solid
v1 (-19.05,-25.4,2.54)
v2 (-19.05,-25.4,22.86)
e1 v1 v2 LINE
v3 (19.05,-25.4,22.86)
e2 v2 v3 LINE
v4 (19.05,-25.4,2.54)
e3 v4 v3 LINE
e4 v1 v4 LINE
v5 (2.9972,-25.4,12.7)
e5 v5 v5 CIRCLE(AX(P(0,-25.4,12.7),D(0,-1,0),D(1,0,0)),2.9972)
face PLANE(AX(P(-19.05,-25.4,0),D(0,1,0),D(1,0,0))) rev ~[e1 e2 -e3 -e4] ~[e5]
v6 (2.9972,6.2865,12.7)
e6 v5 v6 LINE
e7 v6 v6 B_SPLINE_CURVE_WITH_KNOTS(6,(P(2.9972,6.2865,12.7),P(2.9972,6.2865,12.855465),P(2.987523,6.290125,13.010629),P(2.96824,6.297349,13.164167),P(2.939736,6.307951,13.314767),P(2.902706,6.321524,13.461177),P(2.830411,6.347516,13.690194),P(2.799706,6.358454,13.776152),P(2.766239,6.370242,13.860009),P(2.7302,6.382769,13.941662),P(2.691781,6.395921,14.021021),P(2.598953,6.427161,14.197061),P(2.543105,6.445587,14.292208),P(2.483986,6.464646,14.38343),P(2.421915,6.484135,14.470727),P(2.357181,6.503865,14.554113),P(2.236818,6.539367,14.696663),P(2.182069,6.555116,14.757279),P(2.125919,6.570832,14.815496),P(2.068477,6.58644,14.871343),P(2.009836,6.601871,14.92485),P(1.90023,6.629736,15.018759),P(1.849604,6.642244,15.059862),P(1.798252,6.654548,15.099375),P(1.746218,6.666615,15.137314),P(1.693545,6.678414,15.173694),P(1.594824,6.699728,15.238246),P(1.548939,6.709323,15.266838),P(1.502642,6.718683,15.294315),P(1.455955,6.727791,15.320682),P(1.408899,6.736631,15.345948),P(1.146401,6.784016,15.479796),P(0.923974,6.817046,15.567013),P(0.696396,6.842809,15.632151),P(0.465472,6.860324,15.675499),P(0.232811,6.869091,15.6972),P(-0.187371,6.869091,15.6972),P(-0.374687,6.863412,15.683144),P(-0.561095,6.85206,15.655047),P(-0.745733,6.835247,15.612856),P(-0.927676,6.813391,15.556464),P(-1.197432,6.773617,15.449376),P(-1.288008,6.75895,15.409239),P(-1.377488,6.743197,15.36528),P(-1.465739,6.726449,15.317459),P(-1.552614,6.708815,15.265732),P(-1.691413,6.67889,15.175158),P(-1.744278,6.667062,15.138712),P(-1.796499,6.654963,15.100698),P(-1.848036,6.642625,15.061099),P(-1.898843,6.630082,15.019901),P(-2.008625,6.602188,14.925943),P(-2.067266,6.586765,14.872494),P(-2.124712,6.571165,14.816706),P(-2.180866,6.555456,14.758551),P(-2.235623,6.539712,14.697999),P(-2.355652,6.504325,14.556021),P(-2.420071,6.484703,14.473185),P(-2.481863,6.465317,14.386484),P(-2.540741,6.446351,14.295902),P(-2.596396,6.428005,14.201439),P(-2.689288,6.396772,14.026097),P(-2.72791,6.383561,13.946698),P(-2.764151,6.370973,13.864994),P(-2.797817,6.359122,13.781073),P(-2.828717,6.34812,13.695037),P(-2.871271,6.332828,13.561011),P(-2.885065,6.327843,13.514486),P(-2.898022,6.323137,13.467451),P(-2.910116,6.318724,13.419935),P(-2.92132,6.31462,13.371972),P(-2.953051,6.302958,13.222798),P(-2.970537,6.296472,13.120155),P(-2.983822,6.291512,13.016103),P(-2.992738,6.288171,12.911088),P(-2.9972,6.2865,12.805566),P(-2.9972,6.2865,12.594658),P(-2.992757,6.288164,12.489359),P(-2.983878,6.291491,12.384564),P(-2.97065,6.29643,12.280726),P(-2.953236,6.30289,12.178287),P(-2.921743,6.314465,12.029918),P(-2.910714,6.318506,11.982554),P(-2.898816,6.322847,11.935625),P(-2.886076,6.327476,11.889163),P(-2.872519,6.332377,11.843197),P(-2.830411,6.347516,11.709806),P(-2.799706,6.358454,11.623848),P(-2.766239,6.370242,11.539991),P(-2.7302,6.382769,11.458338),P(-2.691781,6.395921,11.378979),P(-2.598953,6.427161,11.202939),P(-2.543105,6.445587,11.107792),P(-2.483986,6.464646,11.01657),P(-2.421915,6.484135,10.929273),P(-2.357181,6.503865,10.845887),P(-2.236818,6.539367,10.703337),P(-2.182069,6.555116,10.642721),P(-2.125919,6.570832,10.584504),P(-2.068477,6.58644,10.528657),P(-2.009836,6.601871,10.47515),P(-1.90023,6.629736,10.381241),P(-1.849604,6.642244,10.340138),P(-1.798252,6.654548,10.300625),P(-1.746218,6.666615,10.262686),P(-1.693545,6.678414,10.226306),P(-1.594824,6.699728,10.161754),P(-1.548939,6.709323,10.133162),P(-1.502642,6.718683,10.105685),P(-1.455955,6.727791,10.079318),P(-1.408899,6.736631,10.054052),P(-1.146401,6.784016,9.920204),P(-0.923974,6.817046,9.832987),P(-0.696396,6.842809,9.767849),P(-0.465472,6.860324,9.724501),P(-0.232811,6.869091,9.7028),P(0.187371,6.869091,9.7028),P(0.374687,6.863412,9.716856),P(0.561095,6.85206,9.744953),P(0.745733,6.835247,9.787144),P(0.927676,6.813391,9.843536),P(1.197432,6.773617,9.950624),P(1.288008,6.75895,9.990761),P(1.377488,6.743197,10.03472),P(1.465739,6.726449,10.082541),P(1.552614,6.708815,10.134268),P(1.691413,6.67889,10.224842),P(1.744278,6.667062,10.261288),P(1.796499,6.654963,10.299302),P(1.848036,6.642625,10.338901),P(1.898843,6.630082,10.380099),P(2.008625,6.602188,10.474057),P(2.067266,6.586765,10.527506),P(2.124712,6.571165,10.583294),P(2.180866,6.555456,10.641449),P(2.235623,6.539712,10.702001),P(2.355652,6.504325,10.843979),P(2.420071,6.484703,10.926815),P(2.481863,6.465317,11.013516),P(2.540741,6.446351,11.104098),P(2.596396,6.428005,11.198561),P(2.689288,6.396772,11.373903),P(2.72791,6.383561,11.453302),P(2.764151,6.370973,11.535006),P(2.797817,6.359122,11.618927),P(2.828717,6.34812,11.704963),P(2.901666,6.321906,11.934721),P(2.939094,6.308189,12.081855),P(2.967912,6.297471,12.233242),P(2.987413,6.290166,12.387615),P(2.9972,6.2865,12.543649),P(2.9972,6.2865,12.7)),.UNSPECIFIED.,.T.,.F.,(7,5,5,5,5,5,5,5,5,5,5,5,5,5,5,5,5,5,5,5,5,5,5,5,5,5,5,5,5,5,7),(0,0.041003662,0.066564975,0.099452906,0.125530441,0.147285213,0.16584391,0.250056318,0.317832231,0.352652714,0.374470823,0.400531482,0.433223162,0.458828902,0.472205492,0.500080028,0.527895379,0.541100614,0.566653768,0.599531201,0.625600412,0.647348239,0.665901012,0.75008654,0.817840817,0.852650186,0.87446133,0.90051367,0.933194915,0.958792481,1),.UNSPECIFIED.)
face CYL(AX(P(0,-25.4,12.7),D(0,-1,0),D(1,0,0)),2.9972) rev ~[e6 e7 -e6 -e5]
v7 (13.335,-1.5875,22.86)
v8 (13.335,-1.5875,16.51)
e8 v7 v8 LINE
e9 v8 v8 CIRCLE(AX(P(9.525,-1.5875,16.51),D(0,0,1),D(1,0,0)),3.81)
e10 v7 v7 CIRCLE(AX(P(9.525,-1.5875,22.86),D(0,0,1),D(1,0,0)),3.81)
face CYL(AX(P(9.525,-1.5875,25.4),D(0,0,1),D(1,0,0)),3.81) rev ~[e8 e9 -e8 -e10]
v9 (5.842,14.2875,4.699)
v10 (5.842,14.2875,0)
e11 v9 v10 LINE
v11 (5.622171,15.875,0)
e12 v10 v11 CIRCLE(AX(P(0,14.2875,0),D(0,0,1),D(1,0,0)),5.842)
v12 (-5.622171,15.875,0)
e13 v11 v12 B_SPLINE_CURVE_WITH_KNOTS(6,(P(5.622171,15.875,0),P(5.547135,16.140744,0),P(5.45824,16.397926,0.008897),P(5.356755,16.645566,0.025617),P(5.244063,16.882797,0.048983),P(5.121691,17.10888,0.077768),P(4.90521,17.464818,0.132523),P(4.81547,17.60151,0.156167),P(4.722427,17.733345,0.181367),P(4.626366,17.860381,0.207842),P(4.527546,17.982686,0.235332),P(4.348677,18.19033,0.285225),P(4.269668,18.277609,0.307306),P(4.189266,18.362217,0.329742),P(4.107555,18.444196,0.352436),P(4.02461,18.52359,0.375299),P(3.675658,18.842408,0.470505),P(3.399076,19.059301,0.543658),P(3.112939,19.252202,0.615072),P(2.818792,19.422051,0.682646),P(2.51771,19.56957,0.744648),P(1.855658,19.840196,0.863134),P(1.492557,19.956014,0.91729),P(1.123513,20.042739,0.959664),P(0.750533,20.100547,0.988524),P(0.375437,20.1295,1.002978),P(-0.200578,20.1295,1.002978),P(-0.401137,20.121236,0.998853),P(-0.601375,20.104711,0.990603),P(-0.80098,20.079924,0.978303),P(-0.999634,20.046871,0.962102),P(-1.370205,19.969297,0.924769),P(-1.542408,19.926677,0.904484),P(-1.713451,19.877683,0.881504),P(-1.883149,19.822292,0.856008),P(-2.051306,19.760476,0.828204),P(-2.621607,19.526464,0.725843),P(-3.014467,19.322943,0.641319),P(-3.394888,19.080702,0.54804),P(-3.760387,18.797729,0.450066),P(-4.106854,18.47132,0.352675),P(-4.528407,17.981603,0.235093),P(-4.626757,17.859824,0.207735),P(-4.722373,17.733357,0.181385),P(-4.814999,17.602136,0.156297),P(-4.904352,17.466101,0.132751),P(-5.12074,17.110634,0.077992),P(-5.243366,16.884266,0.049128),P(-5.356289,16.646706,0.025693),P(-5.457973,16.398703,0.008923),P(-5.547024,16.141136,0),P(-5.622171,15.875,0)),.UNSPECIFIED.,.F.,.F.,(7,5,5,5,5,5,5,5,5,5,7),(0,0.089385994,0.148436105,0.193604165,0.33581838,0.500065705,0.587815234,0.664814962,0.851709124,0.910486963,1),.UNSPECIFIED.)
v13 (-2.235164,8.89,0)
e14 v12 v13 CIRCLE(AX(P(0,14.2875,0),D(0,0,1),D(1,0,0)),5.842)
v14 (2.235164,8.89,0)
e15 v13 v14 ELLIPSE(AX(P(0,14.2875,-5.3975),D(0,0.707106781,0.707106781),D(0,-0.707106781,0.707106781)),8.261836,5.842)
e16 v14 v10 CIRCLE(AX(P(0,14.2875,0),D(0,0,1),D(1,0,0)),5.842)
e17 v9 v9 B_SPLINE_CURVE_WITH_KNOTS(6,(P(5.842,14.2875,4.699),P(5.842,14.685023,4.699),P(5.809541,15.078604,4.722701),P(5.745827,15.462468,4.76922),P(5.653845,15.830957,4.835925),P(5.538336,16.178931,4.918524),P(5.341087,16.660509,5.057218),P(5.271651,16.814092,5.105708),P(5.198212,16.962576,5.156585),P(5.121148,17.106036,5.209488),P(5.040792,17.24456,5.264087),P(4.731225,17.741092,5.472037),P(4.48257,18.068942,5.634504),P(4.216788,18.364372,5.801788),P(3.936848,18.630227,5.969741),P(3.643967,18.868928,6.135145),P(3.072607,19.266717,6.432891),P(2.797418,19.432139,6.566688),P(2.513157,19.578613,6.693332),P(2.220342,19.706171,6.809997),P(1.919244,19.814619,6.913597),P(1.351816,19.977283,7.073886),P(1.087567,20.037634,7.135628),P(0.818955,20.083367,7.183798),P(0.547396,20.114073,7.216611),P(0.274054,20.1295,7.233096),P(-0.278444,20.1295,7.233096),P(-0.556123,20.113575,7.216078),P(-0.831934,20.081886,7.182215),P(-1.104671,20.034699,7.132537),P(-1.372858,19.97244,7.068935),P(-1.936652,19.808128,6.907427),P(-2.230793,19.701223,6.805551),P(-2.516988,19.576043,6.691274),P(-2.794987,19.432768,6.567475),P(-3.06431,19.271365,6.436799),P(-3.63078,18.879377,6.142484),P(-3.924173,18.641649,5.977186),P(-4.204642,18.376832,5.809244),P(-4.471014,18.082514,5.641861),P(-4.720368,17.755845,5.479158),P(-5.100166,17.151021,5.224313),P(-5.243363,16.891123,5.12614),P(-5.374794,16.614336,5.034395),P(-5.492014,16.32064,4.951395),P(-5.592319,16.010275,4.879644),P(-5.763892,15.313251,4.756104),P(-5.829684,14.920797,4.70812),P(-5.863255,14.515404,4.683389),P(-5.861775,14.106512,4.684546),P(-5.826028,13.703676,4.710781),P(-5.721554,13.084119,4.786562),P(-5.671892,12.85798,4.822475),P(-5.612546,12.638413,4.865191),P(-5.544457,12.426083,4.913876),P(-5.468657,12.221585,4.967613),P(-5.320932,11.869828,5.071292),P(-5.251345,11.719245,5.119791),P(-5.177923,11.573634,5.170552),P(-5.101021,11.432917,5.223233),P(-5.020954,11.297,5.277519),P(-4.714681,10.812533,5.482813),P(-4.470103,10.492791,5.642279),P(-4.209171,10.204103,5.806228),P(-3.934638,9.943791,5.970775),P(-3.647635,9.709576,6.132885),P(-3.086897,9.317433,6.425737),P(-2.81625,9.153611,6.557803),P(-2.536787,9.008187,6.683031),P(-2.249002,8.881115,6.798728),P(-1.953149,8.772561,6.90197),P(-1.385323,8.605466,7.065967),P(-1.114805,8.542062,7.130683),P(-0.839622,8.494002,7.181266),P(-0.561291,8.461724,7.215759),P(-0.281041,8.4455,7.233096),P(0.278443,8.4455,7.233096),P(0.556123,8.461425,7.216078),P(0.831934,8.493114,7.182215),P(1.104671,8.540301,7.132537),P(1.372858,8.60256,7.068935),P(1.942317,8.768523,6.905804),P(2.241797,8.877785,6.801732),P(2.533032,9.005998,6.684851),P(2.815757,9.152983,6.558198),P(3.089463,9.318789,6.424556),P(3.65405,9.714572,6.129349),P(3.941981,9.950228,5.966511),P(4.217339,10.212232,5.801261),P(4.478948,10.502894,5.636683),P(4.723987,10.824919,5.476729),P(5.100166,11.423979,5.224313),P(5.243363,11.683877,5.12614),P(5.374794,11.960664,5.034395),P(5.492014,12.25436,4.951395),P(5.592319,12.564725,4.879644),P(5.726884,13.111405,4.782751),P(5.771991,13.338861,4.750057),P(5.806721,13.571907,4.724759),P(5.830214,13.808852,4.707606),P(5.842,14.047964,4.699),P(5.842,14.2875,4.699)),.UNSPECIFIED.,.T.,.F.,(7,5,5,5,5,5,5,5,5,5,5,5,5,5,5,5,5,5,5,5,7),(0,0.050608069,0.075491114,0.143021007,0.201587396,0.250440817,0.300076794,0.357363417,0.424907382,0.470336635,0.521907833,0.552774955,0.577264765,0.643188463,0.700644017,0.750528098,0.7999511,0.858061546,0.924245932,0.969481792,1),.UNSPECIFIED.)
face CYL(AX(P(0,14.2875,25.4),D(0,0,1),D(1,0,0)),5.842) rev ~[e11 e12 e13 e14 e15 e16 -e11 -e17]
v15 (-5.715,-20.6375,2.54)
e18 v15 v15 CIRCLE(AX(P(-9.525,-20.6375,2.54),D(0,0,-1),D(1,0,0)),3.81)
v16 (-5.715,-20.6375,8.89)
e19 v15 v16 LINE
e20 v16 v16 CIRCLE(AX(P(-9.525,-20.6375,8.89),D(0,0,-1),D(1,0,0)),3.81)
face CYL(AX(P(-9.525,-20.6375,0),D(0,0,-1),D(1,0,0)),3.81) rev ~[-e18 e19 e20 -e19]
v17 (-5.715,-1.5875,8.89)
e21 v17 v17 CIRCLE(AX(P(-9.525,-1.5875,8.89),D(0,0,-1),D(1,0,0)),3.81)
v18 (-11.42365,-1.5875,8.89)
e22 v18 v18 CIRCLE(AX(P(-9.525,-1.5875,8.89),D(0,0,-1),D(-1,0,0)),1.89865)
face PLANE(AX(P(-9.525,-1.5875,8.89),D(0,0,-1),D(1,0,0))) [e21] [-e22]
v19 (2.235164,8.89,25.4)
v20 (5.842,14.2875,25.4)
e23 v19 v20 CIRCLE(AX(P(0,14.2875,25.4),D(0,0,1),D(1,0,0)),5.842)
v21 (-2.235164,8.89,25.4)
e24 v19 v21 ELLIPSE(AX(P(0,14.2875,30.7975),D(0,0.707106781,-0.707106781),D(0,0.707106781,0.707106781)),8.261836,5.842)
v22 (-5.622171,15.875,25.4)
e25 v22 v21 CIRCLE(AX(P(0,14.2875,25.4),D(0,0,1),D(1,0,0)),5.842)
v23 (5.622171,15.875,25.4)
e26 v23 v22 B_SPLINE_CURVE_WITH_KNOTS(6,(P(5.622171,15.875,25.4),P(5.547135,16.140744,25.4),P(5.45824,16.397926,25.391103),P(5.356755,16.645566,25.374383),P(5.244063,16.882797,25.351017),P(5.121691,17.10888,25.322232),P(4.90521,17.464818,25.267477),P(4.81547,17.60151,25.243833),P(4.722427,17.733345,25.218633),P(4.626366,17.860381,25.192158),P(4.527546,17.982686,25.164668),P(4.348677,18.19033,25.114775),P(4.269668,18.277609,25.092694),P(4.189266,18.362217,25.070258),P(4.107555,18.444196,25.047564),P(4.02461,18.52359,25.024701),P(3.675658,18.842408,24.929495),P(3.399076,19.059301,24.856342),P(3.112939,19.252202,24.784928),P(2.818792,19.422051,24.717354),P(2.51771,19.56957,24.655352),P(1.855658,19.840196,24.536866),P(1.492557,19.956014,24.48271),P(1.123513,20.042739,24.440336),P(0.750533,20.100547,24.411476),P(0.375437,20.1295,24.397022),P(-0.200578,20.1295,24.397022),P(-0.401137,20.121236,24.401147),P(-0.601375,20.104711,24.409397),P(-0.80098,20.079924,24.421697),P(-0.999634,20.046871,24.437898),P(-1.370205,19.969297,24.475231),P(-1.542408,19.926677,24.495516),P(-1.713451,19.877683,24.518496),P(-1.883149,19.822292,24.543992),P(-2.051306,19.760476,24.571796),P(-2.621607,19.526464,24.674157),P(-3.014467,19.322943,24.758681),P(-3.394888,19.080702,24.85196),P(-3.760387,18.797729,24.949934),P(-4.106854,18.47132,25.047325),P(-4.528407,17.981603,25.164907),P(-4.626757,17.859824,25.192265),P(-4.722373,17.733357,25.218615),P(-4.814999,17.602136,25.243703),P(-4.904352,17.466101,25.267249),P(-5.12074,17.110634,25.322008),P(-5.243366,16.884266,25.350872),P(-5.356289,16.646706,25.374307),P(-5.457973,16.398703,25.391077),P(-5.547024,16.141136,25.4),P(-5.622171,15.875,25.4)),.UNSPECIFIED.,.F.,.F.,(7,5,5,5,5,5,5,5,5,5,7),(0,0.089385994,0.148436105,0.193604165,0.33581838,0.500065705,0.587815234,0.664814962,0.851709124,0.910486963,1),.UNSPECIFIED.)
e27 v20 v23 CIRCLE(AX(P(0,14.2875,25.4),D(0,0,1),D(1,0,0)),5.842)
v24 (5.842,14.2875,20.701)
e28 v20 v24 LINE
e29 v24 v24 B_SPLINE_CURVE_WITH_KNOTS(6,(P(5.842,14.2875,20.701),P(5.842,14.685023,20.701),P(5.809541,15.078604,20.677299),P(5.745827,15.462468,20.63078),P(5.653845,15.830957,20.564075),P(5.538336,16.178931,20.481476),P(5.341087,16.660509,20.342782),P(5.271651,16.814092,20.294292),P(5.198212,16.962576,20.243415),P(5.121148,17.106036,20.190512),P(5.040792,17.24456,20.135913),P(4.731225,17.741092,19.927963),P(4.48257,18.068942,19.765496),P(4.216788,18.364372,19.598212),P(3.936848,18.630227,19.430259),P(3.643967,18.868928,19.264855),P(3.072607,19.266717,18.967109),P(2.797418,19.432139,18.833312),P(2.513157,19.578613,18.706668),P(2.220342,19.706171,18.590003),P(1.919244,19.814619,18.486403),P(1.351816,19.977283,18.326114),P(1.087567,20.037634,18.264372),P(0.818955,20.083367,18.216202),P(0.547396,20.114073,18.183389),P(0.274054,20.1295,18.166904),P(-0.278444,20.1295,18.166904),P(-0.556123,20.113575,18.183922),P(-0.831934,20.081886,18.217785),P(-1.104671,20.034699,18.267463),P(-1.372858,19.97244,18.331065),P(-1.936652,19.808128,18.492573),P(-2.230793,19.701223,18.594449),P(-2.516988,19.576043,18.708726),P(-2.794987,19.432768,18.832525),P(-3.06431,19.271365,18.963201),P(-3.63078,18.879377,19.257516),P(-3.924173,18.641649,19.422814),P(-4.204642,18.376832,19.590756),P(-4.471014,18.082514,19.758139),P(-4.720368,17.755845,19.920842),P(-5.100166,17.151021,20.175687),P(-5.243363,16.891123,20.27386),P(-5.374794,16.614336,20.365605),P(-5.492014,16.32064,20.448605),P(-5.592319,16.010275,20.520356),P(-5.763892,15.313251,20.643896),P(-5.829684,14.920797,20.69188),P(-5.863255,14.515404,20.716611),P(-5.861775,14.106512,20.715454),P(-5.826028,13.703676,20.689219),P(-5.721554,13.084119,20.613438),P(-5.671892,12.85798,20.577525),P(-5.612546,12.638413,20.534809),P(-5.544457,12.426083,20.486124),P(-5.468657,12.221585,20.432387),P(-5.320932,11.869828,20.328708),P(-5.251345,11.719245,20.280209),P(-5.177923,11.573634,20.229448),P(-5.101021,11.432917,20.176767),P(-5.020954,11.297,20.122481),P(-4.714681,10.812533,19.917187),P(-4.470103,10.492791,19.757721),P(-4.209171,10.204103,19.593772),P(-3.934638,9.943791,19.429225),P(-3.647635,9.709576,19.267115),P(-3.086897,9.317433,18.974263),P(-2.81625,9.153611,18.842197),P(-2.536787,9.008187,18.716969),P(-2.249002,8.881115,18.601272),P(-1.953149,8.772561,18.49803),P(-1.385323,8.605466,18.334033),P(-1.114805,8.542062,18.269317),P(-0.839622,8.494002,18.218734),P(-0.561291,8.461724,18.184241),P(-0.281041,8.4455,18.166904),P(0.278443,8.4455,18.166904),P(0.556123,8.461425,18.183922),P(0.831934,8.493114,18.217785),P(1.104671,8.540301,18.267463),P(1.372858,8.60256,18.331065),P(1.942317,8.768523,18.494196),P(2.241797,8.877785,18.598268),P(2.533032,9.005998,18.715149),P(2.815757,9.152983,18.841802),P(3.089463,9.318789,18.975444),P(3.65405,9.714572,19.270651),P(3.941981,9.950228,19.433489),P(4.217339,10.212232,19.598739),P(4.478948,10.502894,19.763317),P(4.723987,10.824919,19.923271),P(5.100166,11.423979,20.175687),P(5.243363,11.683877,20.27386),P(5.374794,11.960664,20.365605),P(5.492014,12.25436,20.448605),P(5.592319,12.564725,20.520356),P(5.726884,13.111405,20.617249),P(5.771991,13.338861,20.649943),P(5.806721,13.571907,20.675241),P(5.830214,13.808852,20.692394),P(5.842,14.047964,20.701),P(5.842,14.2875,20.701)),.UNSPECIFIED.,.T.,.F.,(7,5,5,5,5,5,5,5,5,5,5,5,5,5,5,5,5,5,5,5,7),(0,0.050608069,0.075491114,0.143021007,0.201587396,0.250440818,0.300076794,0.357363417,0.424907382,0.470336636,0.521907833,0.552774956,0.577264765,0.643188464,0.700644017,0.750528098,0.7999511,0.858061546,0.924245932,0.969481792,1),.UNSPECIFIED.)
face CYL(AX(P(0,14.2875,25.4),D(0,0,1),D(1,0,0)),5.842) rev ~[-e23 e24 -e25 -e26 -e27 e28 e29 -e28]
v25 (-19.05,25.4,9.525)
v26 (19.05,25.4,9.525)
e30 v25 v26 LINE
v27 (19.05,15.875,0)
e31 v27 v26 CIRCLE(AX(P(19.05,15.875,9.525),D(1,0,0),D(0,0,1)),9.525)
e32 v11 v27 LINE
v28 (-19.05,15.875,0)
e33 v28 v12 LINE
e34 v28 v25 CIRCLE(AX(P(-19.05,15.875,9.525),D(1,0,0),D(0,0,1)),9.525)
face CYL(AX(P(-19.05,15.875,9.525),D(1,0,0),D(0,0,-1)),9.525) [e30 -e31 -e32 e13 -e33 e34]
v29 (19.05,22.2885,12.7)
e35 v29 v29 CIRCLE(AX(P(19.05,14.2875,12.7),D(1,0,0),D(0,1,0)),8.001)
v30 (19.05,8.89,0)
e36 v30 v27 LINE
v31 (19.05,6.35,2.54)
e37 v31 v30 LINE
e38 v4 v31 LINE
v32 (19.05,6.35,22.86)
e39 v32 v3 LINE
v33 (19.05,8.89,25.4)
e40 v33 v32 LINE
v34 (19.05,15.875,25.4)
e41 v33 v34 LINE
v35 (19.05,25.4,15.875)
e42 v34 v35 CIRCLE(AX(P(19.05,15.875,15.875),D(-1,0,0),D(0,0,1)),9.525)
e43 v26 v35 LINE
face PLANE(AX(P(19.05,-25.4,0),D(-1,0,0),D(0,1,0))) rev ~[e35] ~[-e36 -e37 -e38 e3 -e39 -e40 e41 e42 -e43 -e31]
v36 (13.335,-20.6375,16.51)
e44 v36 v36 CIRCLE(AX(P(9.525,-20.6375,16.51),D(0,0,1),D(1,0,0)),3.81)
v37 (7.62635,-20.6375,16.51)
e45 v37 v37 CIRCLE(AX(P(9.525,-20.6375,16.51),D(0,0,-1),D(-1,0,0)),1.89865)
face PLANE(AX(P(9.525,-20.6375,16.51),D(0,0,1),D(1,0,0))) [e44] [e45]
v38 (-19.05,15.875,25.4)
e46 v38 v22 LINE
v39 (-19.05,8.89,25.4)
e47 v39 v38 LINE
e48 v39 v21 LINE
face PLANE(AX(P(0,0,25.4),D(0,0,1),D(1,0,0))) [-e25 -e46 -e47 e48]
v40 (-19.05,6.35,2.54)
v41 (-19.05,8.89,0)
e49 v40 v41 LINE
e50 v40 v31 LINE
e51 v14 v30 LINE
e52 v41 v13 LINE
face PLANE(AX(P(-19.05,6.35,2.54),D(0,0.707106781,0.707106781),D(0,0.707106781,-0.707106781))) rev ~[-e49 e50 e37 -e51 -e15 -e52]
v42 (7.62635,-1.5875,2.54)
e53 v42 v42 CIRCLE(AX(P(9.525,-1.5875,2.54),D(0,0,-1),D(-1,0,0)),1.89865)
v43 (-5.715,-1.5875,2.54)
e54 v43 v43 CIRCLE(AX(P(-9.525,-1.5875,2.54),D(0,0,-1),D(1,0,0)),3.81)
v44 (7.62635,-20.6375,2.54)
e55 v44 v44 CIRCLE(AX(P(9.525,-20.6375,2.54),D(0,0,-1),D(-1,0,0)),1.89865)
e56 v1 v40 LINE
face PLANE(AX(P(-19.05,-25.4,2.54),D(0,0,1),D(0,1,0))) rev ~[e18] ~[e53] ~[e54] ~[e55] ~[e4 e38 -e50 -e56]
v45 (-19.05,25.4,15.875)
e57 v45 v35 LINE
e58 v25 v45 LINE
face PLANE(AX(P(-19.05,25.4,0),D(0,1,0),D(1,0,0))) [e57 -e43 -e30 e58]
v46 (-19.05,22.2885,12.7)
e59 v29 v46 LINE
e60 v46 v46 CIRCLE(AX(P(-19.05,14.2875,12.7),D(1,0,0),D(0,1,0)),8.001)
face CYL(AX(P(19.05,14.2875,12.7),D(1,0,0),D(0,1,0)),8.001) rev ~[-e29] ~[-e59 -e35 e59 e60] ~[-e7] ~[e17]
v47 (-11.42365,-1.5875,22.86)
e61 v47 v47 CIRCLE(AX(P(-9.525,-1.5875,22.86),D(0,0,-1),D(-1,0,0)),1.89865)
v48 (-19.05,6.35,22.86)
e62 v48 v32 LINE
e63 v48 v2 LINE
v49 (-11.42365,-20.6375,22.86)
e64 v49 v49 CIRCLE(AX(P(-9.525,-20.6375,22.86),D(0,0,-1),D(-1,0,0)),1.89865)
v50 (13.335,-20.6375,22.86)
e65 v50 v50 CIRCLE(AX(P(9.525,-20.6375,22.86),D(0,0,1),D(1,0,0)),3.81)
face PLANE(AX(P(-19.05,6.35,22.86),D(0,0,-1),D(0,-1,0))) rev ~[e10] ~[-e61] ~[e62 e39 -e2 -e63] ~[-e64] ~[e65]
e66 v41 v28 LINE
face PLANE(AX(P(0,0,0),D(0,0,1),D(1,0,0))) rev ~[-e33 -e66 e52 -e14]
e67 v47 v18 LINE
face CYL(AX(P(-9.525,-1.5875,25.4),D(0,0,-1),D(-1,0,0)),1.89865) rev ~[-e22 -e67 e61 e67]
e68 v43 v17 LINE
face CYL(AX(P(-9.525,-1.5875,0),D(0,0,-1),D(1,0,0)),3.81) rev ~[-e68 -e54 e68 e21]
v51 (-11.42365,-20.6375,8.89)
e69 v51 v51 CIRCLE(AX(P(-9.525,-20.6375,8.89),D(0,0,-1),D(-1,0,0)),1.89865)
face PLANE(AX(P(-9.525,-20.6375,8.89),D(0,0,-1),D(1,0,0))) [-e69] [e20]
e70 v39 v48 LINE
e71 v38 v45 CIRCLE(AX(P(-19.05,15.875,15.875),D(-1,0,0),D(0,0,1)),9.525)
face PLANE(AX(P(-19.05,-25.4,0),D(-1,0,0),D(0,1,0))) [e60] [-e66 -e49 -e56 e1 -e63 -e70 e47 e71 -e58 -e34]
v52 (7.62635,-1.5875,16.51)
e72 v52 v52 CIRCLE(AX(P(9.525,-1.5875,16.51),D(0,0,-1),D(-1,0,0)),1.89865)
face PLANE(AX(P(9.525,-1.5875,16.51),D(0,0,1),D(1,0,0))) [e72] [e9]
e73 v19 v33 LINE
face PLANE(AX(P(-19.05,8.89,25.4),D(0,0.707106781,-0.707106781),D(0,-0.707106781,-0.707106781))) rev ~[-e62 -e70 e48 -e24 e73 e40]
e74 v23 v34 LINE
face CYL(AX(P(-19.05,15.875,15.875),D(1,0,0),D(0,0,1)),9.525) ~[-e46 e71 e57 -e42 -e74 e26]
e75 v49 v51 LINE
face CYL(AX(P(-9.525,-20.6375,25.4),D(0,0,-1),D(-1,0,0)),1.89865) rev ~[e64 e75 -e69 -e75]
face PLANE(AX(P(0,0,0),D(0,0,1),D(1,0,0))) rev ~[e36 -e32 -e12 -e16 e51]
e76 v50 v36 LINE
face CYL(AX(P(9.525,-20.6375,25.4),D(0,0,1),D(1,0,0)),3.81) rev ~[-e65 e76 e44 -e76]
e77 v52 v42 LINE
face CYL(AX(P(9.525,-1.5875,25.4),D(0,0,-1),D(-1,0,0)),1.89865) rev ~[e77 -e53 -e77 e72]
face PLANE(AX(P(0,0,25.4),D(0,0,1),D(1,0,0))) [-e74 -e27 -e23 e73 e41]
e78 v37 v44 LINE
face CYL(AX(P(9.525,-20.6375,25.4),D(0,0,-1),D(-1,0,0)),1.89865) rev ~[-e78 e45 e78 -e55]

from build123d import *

# Parameters (mm, degrees)
F0_W           = 38.1
F0_H           = 50.8
F1_DEPTH       = 25.4
F2_R           = 8.001
F3_DEPTH       = 38.101
F4_R           = 2.9972
F5_DEPTH       = 32.270091028
F6_R           = 9.525
F8_D           = 3.7973
F8_CSINK_D     = 4.318
F8_CSINK_ANGLE = 90
F9_R           = 3.81
F10_DEPTH      = 8.89
F11_R          = 3.81
F12_DEPTH      = 8.89
F14_DEPTH      = 38.1010001
F15_R          = 5.842
F16_DEPTH      = 25.401


with BuildPart() as f1:
    # F0 (on Top) → F1 (new body)
    with BuildSketch(Plane.XY):
        Rectangle(F0_W, F0_H)
    extrude(amount=F1_DEPTH)

    # F2 (on face) → F3 (cut, through all)
    with BuildSketch(Plane.YZ.offset(19.05)):
        with Locations((14.2875, 12.7)):
            Circle(F2_R)
    extrude(amount=-F3_DEPTH, mode=Mode.SUBTRACT)

    # F4 (on face) → F5 (cut, through all)
    with BuildSketch(Plane.XZ.offset(25.4)):
        with Locations((0, 12.7)):
            Circle(F4_R)
    extrude(amount=-F5_DEPTH, mode=Mode.SUBTRACT)

    # F6
    f6_edges = [f1.edges().sort_by_distance(p)[0] for p in [
        (0, 25.4, 25.4),
        (0, 25.4, 0),
    ]]
    fillet(f6_edges, radius=F6_R)

    # F8 (through all)
    with Locations(Plane.XY.offset(25.4)):
        with Locations((-9.525, -1.5875), (-9.525, -20.6375), (9.525, -20.6375), (9.525, -1.5875)):
            CounterSinkHole(F8_D / 2, F8_CSINK_D / 2, counter_sink_angle=F8_CSINK_ANGLE)

    # F9 (on face) → F10 (cut)
    with BuildSketch(Plane.XY.offset(25.4)):
        with Locations((9.525, -1.5875)):
            Circle(F9_R)
        with Locations((9.525, -20.6375)):
            Circle(F9_R)
    extrude(amount=-F10_DEPTH, mode=Mode.SUBTRACT)

    # F11 (on face) → F12 (cut)
    with BuildSketch(Plane(origin=(0, 0, 0), x_dir=(1, 0, 0), z_dir=(0, 0, -1))):
        with Locations((-9.525, 20.6375)):
            Circle(F11_R)
        with Locations((-9.525, 1.5875)):
            Circle(F11_R)
    extrude(amount=-F12_DEPTH, mode=Mode.SUBTRACT)

    # F13 (on face) → F14 (cut, through all)
    with BuildSketch(Plane(origin=(-19.05, 0, 0), x_dir=(0, -1, 0), z_dir=(-1, 0, 0))):
        Polygon((25.4, 22.86), (25.4, 25.4), (-8.89, 25.4), (-6.35, 22.86), align=None)
        Polygon((-8.89, 0), (25.4, 0), (25.4, 2.54), (-6.35, 2.54), align=None)
    extrude(amount=-F14_DEPTH, mode=Mode.SUBTRACT)

    # F15 (on face) → F16 (cut, through all)
    with BuildSketch(Plane.XY.offset(25.4)):
        with Locations((0, 14.2875)):
            Circle(F15_R)
    extrude(amount=-F16_DEPTH, mode=Mode.SUBTRACT)


solid = f1.part
